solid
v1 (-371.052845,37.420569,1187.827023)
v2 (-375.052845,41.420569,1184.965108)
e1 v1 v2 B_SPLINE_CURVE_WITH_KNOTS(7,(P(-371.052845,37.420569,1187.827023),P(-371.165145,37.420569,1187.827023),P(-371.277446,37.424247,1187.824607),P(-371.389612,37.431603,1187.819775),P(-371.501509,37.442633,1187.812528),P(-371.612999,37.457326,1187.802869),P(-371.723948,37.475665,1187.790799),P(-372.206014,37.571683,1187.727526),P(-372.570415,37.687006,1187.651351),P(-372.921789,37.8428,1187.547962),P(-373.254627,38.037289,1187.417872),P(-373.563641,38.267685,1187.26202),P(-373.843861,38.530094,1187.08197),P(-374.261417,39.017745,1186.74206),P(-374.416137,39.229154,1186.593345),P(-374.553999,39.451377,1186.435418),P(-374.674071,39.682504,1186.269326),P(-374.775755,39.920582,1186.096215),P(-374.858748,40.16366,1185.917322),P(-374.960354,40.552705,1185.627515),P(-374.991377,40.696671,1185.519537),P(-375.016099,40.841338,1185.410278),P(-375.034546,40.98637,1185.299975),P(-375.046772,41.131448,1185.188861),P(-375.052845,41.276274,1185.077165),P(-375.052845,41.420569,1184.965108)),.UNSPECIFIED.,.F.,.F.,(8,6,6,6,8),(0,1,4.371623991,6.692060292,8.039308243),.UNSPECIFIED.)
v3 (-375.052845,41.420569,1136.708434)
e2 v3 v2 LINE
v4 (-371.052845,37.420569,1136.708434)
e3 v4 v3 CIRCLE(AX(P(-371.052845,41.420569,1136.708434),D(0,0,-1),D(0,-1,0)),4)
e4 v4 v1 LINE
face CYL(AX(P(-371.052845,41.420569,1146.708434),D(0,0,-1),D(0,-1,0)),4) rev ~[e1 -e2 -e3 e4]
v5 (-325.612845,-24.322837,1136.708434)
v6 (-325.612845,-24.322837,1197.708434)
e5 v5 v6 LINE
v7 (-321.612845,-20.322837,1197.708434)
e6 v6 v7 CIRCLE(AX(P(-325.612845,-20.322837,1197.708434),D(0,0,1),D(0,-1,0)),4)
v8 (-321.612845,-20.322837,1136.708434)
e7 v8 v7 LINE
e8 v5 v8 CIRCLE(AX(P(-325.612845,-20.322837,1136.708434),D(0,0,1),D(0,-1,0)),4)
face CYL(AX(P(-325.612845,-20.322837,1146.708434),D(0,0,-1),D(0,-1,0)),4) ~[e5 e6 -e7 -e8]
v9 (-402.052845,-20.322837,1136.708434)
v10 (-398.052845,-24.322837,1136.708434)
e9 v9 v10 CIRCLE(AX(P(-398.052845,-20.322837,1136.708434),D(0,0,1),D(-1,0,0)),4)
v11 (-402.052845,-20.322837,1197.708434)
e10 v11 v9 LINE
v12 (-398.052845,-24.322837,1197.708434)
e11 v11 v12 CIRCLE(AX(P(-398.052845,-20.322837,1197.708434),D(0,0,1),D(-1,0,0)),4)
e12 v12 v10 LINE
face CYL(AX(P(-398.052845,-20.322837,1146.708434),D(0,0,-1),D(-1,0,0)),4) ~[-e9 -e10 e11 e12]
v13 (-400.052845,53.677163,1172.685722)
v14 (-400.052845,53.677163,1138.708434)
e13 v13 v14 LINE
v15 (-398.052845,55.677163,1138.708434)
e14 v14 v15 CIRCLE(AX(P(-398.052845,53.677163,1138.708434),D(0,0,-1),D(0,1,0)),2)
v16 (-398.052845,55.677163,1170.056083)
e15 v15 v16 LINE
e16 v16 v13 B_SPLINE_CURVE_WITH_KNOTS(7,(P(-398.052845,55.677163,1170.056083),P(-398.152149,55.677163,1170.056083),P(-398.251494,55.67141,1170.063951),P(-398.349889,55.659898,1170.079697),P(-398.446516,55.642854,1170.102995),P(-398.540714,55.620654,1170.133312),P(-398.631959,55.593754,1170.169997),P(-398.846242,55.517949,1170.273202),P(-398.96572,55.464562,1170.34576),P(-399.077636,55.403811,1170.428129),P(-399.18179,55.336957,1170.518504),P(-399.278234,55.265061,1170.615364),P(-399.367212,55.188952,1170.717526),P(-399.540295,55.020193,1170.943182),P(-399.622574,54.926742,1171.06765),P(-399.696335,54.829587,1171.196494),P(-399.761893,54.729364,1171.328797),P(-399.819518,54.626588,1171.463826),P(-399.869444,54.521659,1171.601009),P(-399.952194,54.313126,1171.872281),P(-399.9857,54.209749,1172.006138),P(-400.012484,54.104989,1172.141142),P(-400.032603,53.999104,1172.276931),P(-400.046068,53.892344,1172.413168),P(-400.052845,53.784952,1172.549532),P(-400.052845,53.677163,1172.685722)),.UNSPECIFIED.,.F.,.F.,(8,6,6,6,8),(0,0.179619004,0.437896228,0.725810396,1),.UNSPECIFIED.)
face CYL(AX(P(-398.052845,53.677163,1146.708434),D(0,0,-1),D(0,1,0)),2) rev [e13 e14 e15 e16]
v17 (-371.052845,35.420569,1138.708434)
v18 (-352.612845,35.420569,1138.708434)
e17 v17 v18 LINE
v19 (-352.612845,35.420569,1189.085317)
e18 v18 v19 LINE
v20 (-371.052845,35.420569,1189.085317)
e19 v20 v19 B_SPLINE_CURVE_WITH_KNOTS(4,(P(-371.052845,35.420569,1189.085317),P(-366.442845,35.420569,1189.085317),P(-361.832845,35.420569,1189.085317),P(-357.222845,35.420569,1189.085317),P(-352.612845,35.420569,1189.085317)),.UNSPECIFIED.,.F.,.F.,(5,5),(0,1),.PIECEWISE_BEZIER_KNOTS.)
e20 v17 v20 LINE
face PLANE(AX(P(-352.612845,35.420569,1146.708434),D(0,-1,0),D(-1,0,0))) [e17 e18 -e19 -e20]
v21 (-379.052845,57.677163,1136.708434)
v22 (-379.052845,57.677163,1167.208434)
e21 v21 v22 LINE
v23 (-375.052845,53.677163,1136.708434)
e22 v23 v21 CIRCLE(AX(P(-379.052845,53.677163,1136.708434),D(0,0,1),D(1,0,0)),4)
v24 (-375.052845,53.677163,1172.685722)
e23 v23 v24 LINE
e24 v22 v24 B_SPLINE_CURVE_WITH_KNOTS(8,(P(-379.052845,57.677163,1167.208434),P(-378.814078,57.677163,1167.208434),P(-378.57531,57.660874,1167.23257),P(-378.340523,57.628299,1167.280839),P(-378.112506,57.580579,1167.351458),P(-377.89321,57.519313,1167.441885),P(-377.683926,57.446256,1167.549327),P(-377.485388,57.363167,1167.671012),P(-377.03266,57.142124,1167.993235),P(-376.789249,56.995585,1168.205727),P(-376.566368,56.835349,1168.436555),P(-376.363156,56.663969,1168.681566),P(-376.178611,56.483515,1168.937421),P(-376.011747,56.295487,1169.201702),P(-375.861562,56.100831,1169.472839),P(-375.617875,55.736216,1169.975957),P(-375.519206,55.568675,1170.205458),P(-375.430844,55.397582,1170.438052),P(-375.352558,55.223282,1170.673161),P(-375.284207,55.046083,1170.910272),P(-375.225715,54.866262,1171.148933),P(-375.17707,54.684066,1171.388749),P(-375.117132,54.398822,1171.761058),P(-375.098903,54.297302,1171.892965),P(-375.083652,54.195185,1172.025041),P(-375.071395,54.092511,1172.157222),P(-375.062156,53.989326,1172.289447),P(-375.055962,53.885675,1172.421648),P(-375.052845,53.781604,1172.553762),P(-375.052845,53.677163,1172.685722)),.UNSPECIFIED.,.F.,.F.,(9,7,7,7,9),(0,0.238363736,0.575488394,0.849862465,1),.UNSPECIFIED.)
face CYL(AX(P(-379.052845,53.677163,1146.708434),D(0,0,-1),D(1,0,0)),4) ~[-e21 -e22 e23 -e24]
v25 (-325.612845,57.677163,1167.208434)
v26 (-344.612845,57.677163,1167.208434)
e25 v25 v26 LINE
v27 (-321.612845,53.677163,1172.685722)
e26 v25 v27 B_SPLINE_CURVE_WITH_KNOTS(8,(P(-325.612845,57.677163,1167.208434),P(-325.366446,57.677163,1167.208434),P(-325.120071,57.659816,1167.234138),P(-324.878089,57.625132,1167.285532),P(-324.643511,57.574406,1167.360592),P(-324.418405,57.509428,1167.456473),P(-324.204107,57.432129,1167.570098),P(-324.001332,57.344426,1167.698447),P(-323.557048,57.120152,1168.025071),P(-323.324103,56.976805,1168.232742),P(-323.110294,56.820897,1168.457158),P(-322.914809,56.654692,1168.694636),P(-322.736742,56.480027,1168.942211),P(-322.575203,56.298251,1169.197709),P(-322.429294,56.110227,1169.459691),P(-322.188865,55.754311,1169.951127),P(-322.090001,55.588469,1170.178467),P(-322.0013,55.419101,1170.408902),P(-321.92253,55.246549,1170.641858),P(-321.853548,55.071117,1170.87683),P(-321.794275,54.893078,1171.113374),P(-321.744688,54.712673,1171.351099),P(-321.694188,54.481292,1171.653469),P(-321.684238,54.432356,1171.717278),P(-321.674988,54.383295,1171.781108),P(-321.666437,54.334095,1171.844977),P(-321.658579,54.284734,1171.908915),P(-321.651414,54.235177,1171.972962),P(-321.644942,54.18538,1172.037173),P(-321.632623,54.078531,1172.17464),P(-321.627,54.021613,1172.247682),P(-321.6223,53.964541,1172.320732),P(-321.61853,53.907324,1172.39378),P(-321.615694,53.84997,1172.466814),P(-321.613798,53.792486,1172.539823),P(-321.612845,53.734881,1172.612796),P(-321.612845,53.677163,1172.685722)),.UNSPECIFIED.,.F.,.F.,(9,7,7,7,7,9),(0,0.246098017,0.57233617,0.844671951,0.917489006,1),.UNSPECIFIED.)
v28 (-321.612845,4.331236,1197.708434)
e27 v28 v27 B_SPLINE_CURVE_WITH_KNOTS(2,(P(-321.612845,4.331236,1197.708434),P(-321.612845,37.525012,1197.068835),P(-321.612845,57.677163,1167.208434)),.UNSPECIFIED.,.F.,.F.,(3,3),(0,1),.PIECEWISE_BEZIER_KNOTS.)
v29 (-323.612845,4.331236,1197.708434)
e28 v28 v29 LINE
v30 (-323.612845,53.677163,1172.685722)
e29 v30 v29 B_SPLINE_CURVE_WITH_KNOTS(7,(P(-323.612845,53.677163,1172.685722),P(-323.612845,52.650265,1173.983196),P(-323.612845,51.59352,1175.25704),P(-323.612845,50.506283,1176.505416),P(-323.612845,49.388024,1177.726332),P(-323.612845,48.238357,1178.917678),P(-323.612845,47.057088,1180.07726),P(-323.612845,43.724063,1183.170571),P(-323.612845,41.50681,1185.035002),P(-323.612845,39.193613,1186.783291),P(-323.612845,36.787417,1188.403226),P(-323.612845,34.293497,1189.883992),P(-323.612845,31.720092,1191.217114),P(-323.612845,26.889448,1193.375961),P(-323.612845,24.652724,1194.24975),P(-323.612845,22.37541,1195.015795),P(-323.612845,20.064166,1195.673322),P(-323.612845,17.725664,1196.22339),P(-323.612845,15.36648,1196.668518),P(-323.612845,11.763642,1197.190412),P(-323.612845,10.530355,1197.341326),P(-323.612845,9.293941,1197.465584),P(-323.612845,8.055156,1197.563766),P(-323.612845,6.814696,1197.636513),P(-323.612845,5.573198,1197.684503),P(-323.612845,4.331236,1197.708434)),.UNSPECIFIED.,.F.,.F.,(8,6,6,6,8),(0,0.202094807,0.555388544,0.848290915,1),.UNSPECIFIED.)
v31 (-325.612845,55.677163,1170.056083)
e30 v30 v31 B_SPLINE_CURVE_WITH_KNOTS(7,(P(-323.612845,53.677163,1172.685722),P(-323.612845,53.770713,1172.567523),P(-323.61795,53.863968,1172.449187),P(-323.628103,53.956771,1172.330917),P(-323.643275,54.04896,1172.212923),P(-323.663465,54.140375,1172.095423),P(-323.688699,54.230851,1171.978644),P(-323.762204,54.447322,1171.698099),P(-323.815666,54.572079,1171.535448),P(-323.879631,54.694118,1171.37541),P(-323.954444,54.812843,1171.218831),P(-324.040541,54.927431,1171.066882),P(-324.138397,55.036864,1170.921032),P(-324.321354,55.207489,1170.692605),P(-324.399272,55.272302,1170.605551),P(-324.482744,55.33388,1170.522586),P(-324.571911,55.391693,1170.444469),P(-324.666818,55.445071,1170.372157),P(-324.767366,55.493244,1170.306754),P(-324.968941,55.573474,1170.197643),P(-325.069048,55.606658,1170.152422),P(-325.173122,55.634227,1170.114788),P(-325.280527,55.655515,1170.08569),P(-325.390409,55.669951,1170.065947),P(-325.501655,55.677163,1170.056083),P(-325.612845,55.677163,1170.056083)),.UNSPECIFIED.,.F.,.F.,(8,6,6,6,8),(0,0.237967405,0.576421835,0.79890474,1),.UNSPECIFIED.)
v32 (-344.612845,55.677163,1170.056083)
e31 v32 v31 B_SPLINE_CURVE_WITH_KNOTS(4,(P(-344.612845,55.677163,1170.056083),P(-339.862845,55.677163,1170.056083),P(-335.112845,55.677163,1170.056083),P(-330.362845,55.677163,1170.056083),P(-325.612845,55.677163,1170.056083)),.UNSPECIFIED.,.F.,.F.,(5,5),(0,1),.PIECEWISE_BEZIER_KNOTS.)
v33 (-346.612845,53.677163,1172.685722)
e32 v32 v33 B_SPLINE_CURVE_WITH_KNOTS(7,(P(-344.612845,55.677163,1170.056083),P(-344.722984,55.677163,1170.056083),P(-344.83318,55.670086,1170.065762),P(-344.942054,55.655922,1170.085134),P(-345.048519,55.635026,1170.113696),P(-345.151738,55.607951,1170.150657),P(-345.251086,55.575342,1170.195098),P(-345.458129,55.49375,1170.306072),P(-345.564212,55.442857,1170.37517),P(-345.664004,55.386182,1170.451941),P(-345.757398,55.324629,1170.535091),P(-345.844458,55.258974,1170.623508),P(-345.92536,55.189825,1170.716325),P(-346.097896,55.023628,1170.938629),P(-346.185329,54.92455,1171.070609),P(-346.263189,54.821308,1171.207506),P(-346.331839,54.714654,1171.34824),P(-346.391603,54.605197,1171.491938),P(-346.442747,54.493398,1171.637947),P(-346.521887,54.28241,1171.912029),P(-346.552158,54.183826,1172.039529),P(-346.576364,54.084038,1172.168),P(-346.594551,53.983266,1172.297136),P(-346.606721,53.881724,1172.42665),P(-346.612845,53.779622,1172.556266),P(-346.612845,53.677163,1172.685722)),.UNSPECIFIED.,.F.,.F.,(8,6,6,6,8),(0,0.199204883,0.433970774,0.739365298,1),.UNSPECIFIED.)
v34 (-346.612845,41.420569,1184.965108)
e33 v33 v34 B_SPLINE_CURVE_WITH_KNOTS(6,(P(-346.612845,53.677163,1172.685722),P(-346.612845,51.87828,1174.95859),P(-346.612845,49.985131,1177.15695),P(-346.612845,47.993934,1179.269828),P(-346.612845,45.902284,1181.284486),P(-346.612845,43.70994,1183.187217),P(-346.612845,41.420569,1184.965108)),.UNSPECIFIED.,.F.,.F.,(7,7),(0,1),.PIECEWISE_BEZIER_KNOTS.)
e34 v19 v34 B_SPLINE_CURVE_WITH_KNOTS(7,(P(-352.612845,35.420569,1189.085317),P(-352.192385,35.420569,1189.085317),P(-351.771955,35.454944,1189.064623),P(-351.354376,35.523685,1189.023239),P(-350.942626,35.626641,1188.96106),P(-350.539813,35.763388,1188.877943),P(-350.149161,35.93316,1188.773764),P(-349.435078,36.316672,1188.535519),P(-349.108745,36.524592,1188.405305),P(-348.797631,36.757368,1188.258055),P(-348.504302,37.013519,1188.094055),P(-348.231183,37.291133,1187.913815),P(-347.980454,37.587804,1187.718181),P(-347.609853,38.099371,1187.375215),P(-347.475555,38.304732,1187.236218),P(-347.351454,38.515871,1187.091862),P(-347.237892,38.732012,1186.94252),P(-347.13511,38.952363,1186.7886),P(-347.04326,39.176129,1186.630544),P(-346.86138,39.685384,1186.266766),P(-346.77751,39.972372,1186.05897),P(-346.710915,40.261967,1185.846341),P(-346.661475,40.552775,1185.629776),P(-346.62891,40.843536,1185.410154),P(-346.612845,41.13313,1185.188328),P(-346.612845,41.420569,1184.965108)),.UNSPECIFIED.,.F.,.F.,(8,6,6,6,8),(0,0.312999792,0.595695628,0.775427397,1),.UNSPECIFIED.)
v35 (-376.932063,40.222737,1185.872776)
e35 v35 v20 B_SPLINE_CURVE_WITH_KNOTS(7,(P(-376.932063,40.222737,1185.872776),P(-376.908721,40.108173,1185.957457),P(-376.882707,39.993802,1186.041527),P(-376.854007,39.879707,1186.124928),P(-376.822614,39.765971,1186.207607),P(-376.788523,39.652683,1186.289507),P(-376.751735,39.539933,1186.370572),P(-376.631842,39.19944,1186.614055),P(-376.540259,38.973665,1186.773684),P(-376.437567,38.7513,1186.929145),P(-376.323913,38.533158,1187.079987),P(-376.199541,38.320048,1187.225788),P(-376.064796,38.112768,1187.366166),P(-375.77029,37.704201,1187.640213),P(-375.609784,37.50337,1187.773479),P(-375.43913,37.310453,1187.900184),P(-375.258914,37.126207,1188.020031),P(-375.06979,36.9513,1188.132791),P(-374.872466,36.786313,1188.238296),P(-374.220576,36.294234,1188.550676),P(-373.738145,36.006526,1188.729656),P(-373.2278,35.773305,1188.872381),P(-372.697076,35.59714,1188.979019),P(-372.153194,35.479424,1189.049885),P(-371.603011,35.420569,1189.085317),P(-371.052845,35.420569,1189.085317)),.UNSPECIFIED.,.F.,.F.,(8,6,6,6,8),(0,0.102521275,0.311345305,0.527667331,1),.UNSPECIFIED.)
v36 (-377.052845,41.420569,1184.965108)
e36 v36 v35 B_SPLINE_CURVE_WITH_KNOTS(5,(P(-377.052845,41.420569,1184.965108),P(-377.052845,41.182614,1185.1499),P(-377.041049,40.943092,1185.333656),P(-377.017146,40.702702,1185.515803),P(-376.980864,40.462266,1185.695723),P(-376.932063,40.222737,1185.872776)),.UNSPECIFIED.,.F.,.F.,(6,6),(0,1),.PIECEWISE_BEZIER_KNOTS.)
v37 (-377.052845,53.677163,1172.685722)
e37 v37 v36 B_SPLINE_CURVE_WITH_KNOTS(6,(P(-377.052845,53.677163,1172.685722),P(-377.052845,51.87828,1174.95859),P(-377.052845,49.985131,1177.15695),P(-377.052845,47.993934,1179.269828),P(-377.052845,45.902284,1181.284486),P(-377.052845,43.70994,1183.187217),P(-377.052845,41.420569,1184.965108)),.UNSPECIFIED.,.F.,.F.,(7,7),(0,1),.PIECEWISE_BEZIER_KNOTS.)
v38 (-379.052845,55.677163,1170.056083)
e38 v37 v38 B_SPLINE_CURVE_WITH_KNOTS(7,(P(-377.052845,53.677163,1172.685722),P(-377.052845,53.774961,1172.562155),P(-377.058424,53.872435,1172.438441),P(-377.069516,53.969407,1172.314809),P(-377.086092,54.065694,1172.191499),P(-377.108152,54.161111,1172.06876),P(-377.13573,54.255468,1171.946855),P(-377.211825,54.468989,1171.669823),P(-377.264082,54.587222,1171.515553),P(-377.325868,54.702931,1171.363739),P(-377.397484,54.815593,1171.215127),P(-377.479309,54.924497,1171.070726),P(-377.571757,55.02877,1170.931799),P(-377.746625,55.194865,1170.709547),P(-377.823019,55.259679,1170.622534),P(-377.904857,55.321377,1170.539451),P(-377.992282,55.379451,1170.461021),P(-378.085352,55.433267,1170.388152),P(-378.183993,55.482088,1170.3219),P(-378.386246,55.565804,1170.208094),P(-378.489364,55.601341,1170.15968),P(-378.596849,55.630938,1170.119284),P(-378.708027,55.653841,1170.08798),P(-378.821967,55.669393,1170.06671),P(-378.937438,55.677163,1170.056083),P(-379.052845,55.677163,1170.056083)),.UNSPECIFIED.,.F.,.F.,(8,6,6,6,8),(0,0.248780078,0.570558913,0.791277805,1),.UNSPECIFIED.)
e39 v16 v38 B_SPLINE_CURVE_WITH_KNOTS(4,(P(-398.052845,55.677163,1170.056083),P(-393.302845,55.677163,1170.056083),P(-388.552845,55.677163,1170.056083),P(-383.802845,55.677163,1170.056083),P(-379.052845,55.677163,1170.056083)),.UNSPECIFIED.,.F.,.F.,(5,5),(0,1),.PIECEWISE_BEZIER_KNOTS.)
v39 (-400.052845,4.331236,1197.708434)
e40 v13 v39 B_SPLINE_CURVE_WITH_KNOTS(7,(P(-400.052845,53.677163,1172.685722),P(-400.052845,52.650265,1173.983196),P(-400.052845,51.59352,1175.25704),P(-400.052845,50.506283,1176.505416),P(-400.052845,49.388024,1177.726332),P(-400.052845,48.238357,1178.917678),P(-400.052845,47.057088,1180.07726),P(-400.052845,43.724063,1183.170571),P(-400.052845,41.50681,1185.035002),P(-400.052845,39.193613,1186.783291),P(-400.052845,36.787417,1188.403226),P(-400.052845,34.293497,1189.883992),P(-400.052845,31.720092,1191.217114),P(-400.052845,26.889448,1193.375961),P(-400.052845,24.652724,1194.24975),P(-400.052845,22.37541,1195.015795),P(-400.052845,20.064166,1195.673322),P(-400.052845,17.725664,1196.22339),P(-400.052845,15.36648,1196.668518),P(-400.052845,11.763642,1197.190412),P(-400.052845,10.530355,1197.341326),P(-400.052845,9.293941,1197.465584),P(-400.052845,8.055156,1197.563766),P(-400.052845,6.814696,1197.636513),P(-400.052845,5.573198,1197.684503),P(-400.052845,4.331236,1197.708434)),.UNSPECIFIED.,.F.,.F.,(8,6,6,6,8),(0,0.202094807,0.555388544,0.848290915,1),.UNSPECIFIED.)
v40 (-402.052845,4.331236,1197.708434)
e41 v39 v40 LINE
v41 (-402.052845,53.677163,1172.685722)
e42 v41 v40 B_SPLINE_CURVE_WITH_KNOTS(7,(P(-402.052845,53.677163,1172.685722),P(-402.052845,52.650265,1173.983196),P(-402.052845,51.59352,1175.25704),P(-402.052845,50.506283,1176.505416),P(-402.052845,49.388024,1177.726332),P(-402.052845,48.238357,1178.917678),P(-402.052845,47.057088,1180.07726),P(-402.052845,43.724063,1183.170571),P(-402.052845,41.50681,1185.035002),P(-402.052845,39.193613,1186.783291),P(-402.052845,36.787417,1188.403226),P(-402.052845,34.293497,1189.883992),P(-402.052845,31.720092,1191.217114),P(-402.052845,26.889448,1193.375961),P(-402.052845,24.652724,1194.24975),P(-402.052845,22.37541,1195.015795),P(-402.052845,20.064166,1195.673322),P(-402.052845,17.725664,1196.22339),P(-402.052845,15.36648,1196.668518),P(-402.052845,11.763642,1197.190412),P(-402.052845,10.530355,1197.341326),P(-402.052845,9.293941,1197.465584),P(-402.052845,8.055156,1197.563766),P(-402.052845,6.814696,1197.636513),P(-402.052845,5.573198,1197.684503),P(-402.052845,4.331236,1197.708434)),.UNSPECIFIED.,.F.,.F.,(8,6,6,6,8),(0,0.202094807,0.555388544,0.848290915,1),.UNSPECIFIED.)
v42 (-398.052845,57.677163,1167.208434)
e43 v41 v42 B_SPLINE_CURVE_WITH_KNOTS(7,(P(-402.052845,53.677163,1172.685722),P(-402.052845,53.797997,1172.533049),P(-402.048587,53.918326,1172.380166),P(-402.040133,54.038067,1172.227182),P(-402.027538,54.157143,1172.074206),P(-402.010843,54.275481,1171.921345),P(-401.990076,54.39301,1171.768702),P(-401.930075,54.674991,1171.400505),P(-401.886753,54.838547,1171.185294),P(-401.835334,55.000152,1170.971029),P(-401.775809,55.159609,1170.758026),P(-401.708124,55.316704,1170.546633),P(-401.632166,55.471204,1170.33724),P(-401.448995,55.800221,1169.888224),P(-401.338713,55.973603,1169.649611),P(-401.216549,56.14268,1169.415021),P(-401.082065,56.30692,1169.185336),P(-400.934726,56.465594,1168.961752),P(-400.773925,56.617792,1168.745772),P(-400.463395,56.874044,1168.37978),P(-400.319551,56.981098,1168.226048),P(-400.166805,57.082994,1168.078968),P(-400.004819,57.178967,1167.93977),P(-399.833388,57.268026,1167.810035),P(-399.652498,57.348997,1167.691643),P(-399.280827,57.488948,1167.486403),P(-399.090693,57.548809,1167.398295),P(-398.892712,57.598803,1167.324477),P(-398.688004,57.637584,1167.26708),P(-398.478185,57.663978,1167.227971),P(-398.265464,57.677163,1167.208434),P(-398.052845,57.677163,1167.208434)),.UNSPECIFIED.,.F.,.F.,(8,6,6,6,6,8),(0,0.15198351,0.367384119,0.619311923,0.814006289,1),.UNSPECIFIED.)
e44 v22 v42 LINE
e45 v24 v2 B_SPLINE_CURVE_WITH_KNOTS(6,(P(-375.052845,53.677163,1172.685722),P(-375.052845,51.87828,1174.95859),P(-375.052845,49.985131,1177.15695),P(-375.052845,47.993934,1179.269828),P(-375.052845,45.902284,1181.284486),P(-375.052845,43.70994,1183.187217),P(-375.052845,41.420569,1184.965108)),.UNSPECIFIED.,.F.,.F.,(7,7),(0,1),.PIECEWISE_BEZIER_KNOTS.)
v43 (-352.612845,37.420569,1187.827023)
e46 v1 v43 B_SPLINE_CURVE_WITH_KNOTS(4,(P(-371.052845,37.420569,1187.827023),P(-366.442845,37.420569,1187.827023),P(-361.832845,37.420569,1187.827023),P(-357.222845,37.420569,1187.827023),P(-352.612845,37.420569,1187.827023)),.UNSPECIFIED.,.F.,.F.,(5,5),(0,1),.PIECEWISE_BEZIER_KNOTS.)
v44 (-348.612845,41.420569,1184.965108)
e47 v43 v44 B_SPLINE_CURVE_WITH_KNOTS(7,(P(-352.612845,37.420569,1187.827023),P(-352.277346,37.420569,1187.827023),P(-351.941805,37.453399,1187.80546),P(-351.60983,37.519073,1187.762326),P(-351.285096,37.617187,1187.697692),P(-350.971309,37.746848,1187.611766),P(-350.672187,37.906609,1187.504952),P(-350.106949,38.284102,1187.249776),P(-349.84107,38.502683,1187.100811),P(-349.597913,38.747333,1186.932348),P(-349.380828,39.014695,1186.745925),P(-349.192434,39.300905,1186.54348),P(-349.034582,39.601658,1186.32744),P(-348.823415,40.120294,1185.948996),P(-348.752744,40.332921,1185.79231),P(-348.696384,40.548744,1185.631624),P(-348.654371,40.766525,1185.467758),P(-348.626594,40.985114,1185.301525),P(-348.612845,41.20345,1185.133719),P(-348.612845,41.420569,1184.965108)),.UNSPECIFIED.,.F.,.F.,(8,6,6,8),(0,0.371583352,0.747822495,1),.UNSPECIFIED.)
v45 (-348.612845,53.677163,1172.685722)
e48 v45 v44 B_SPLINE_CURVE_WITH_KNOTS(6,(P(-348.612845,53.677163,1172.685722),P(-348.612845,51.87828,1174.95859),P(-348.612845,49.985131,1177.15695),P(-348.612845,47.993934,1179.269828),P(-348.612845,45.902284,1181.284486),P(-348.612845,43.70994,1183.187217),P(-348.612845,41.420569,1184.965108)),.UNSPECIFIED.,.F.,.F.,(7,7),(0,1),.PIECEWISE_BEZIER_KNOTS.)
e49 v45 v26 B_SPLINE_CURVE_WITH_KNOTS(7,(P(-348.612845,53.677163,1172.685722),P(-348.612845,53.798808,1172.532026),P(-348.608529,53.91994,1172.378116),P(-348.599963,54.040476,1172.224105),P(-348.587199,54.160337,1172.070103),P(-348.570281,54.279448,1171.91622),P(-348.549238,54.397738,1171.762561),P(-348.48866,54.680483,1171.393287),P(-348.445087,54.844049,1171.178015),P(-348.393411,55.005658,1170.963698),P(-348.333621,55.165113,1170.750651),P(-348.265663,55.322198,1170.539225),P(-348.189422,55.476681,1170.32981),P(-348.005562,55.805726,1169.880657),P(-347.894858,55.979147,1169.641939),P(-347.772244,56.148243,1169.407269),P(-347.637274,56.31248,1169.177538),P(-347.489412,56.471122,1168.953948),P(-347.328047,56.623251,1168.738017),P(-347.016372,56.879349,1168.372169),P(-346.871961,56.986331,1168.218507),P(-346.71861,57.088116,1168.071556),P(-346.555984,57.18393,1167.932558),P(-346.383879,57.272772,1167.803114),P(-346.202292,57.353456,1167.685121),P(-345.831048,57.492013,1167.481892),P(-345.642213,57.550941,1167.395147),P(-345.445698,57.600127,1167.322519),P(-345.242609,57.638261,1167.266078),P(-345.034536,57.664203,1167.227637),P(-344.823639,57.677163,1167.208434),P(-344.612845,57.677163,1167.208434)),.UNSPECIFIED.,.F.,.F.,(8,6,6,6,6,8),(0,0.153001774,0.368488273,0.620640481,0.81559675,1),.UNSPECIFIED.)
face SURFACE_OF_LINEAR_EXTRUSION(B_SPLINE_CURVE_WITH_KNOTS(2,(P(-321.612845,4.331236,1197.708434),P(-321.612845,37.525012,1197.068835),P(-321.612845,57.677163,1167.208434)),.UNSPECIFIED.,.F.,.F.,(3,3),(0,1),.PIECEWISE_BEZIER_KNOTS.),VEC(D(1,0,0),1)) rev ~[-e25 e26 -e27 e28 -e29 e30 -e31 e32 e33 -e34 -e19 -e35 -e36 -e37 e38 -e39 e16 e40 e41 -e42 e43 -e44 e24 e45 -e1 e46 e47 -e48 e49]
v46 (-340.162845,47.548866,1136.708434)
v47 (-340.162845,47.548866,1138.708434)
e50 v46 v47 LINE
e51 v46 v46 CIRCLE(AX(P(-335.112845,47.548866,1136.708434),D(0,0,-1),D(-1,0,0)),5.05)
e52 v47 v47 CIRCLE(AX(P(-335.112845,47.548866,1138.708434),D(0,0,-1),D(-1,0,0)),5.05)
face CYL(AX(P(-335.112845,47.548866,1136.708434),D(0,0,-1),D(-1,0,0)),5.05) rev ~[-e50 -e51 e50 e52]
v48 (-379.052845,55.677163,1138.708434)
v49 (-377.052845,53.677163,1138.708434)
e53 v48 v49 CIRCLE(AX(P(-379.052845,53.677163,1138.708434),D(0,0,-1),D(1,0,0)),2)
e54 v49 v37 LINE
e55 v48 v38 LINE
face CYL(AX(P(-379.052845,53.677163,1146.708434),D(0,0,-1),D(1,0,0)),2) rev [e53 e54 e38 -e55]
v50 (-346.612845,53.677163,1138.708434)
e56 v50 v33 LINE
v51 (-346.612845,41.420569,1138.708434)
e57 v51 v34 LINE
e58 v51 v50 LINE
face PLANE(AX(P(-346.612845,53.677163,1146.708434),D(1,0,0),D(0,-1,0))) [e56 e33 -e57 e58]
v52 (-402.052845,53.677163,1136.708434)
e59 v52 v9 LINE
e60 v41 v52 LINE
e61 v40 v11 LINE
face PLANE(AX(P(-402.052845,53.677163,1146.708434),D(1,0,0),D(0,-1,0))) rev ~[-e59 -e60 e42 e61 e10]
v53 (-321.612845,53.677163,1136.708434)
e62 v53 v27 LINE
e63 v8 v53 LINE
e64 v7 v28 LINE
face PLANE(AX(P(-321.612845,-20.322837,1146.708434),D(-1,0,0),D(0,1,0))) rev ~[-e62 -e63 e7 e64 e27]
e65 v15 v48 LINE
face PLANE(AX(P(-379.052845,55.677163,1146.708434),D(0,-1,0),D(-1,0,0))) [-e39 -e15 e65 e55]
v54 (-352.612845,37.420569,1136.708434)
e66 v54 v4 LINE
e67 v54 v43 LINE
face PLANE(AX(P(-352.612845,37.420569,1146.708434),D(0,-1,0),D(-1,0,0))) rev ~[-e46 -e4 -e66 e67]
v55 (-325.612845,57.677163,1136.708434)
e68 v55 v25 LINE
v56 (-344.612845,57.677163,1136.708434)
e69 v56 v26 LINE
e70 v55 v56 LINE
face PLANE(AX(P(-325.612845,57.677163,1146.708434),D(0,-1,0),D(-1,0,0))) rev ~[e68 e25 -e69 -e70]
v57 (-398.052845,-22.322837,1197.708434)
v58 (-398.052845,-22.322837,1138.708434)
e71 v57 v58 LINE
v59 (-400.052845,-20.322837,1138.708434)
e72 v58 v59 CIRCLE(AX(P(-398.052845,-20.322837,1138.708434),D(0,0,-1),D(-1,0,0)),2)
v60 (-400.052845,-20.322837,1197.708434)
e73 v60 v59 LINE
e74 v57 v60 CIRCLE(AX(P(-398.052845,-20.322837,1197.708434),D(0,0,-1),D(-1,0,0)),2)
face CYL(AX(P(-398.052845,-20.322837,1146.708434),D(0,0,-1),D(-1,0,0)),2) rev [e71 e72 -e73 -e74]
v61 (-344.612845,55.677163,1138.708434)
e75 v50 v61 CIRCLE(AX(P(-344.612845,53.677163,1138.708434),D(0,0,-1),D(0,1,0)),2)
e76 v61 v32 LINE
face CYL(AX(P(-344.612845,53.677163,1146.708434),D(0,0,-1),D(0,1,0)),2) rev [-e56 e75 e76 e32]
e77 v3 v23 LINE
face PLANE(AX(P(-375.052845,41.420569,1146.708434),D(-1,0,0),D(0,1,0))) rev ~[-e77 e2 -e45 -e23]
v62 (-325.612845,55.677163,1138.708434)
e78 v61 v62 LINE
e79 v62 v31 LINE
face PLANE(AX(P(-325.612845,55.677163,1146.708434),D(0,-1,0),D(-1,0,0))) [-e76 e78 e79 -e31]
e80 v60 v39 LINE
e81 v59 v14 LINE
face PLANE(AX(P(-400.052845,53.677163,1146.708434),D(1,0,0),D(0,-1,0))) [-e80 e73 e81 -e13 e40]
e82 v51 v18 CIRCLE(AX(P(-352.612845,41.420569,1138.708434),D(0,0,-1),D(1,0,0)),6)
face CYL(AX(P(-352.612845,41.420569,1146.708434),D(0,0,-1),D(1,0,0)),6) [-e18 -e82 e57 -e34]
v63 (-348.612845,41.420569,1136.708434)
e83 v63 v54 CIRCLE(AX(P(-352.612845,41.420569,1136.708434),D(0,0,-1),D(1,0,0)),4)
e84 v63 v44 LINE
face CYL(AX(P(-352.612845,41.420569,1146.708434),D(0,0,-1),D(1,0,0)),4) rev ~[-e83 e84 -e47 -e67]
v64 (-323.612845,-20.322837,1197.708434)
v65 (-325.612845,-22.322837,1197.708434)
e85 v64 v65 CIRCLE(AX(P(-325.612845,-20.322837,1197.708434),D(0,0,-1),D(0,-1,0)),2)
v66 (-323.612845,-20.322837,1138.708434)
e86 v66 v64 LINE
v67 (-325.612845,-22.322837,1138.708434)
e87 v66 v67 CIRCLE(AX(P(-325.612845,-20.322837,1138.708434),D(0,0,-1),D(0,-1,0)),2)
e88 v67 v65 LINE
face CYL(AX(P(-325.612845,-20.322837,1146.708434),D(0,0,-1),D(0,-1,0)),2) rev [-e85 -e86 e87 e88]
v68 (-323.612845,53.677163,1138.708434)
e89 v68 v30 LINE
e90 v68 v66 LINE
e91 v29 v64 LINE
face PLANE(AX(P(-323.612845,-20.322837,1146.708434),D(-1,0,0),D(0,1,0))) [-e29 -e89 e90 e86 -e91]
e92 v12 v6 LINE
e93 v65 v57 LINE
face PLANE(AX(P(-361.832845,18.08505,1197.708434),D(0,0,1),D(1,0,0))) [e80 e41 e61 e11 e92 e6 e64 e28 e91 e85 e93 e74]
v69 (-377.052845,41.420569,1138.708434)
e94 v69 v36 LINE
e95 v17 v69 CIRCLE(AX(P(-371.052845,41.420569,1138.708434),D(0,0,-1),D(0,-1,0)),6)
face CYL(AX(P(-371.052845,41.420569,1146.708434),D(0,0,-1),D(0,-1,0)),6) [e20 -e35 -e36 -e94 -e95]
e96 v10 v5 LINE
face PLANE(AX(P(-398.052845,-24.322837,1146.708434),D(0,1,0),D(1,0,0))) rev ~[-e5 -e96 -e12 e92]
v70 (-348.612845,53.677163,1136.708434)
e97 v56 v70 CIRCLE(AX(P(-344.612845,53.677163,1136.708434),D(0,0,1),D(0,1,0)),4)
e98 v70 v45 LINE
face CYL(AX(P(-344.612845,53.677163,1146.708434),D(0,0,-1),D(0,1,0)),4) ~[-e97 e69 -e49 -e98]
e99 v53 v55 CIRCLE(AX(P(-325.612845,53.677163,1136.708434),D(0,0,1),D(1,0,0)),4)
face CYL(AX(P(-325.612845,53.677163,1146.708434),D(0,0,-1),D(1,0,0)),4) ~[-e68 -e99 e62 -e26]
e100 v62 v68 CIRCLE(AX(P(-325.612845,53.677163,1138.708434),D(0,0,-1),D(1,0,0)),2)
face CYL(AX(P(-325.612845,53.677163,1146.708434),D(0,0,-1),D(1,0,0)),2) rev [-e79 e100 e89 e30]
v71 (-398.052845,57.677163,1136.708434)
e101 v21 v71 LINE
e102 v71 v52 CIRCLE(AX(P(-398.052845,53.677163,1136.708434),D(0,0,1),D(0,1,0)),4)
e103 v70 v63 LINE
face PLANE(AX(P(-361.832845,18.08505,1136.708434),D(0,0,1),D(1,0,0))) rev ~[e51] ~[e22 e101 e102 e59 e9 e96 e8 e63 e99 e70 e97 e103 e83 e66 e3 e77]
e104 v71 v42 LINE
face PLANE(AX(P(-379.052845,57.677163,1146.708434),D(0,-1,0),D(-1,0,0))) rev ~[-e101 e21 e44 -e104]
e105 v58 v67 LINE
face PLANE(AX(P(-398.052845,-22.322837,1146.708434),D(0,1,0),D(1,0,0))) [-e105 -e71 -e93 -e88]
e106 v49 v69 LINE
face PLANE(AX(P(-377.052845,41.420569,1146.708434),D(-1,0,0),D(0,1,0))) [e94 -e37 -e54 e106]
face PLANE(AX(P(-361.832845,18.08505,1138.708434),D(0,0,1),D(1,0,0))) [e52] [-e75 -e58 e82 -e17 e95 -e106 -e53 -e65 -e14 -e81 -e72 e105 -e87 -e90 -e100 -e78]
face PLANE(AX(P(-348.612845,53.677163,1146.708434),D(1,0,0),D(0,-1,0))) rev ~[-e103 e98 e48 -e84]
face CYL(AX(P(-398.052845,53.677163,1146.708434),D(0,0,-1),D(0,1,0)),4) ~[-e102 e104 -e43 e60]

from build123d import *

# Parameters (mm, degrees)
BOSS_EXTRUDE2_DEPTH      = 10
BOSS_EXTRUDE2_DEPTH_BACK = 51
SHELL2_T                 = -2
CUT_EXTRUDE2_DEPTH       = 81.44
SKETCH4_R                = 5.05
CUT_EXTRUDE3_DEPTH       = 62.0000001


with BuildPart() as part:
    # Sketch1 → Boss-Extrude2 (new body, two sides)
    with BuildSketch(Plane(origin=(0, 0, 1146.708434145), x_dir=(-1, 0, 0), z_dir=(0, 0, -1))) as boss_extrude2_sk:
        with BuildLine():
            Line((398.052845122, -24.322837047), (325.612845122, -24.322837047))
            ThreePointArc((325.612845122, -24.322837047), (322.784417997, -23.151264171), (321.612845122, -20.322837047))
            Line((321.612845122, -20.322837047), (321.612845122, 53.677162953))
            ThreePointArc((321.612845122, 53.677162953), (322.784417997, 56.505590078), (325.612845122, 57.677162953))
            Line((325.612845122, 57.677162953), (344.612845122, 57.677162953))
            ThreePointArc((344.612845122, 57.677162953), (347.441272247, 56.505590078), (348.612845122, 53.677162953))
            Line((348.612845122, 53.677162953), (348.612845122, 41.420568524))
            ThreePointArc((348.612845122, 41.420568524), (349.784417997, 38.5921414), (352.612845122, 37.420568524))
            Line((352.612845122, 37.420568524), (371.052845122, 37.420568524))
            ThreePointArc((371.052845122, 37.420568524), (373.881272247, 38.5921414), (375.052845122, 41.420568524))
            Line((375.052845122, 41.420568524), (375.052845122, 53.677162953))
            ThreePointArc((375.052845122, 53.677162953), (376.224417997, 56.505590078), (379.052845122, 57.677162953))
            Line((379.052845122, 57.677162953), (398.052845122, 57.677162953))
            ThreePointArc((398.052845122, 57.677162953), (400.881272247, 56.505590078), (402.052845122, 53.677162953))
            Line((402.052845122, 53.677162953), (402.052845122, -20.322837047))
            ThreePointArc((402.052845122, -20.322837047), (400.881272247, -23.151264171), (398.052845122, -24.322837047))
        make_face()
    extrude(amount=BOSS_EXTRUDE2_DEPTH)
    extrude(boss_extrude2_sk.sketch, amount=-BOSS_EXTRUDE2_DEPTH_BACK)

    # Shell2
    shell2_openings = [part.faces().sort_by_distance(p)[0] for p in [
        (-361.832845122, 32.113014346, 1197.708434145),
    ]]
    offset(amount=SHELL2_T, openings=shell2_openings, kind=Kind.INTERSECTION)

    # Sketch2 → Cut-Extrude2 (cut, through all)
    with BuildSketch(Plane(origin=(-321.612845122, 0, 0), x_dir=(0, 0, -1), z_dir=(1, 0, 0))):
        with BuildLine():
            Line((-1197.708434145, 4.331235789), (-1202.700494478, 4.331235789))
            Line((-1202.700494478, 4.331235789), (-1202.700494478, 60.889226386))
            Line((-1202.700494478, 60.889226386), (-1167.208434145, 60.889226386))
            Line((-1167.208434145, 60.889226386), (-1167.208434145, 57.677162953))
            add(Edge.make_bspline(
                [(-1197.708434145, 4.331235789), (-1197.068834598, 37.525012085), (-1167.208434145, 57.677162953)],
                knots=[0, 0, 0, 1, 1, 1], degree=2))
        make_face()
    extrude(amount=-CUT_EXTRUDE2_DEPTH, mode=Mode.SUBTRACT)

    # Sketch4 → Cut-Extrude3 (cut, through all)
    with BuildSketch(Plane(origin=(0, 0, 1136.708434145), x_dir=(-1, 0, 0), z_dir=(0, 0, -1))):
        with Locations((335.112845122, 47.548865739)):
            Circle(SKETCH4_R)
    extrude(amount=-CUT_EXTRUDE3_DEPTH, mode=Mode.SUBTRACT)


solid = part.part
